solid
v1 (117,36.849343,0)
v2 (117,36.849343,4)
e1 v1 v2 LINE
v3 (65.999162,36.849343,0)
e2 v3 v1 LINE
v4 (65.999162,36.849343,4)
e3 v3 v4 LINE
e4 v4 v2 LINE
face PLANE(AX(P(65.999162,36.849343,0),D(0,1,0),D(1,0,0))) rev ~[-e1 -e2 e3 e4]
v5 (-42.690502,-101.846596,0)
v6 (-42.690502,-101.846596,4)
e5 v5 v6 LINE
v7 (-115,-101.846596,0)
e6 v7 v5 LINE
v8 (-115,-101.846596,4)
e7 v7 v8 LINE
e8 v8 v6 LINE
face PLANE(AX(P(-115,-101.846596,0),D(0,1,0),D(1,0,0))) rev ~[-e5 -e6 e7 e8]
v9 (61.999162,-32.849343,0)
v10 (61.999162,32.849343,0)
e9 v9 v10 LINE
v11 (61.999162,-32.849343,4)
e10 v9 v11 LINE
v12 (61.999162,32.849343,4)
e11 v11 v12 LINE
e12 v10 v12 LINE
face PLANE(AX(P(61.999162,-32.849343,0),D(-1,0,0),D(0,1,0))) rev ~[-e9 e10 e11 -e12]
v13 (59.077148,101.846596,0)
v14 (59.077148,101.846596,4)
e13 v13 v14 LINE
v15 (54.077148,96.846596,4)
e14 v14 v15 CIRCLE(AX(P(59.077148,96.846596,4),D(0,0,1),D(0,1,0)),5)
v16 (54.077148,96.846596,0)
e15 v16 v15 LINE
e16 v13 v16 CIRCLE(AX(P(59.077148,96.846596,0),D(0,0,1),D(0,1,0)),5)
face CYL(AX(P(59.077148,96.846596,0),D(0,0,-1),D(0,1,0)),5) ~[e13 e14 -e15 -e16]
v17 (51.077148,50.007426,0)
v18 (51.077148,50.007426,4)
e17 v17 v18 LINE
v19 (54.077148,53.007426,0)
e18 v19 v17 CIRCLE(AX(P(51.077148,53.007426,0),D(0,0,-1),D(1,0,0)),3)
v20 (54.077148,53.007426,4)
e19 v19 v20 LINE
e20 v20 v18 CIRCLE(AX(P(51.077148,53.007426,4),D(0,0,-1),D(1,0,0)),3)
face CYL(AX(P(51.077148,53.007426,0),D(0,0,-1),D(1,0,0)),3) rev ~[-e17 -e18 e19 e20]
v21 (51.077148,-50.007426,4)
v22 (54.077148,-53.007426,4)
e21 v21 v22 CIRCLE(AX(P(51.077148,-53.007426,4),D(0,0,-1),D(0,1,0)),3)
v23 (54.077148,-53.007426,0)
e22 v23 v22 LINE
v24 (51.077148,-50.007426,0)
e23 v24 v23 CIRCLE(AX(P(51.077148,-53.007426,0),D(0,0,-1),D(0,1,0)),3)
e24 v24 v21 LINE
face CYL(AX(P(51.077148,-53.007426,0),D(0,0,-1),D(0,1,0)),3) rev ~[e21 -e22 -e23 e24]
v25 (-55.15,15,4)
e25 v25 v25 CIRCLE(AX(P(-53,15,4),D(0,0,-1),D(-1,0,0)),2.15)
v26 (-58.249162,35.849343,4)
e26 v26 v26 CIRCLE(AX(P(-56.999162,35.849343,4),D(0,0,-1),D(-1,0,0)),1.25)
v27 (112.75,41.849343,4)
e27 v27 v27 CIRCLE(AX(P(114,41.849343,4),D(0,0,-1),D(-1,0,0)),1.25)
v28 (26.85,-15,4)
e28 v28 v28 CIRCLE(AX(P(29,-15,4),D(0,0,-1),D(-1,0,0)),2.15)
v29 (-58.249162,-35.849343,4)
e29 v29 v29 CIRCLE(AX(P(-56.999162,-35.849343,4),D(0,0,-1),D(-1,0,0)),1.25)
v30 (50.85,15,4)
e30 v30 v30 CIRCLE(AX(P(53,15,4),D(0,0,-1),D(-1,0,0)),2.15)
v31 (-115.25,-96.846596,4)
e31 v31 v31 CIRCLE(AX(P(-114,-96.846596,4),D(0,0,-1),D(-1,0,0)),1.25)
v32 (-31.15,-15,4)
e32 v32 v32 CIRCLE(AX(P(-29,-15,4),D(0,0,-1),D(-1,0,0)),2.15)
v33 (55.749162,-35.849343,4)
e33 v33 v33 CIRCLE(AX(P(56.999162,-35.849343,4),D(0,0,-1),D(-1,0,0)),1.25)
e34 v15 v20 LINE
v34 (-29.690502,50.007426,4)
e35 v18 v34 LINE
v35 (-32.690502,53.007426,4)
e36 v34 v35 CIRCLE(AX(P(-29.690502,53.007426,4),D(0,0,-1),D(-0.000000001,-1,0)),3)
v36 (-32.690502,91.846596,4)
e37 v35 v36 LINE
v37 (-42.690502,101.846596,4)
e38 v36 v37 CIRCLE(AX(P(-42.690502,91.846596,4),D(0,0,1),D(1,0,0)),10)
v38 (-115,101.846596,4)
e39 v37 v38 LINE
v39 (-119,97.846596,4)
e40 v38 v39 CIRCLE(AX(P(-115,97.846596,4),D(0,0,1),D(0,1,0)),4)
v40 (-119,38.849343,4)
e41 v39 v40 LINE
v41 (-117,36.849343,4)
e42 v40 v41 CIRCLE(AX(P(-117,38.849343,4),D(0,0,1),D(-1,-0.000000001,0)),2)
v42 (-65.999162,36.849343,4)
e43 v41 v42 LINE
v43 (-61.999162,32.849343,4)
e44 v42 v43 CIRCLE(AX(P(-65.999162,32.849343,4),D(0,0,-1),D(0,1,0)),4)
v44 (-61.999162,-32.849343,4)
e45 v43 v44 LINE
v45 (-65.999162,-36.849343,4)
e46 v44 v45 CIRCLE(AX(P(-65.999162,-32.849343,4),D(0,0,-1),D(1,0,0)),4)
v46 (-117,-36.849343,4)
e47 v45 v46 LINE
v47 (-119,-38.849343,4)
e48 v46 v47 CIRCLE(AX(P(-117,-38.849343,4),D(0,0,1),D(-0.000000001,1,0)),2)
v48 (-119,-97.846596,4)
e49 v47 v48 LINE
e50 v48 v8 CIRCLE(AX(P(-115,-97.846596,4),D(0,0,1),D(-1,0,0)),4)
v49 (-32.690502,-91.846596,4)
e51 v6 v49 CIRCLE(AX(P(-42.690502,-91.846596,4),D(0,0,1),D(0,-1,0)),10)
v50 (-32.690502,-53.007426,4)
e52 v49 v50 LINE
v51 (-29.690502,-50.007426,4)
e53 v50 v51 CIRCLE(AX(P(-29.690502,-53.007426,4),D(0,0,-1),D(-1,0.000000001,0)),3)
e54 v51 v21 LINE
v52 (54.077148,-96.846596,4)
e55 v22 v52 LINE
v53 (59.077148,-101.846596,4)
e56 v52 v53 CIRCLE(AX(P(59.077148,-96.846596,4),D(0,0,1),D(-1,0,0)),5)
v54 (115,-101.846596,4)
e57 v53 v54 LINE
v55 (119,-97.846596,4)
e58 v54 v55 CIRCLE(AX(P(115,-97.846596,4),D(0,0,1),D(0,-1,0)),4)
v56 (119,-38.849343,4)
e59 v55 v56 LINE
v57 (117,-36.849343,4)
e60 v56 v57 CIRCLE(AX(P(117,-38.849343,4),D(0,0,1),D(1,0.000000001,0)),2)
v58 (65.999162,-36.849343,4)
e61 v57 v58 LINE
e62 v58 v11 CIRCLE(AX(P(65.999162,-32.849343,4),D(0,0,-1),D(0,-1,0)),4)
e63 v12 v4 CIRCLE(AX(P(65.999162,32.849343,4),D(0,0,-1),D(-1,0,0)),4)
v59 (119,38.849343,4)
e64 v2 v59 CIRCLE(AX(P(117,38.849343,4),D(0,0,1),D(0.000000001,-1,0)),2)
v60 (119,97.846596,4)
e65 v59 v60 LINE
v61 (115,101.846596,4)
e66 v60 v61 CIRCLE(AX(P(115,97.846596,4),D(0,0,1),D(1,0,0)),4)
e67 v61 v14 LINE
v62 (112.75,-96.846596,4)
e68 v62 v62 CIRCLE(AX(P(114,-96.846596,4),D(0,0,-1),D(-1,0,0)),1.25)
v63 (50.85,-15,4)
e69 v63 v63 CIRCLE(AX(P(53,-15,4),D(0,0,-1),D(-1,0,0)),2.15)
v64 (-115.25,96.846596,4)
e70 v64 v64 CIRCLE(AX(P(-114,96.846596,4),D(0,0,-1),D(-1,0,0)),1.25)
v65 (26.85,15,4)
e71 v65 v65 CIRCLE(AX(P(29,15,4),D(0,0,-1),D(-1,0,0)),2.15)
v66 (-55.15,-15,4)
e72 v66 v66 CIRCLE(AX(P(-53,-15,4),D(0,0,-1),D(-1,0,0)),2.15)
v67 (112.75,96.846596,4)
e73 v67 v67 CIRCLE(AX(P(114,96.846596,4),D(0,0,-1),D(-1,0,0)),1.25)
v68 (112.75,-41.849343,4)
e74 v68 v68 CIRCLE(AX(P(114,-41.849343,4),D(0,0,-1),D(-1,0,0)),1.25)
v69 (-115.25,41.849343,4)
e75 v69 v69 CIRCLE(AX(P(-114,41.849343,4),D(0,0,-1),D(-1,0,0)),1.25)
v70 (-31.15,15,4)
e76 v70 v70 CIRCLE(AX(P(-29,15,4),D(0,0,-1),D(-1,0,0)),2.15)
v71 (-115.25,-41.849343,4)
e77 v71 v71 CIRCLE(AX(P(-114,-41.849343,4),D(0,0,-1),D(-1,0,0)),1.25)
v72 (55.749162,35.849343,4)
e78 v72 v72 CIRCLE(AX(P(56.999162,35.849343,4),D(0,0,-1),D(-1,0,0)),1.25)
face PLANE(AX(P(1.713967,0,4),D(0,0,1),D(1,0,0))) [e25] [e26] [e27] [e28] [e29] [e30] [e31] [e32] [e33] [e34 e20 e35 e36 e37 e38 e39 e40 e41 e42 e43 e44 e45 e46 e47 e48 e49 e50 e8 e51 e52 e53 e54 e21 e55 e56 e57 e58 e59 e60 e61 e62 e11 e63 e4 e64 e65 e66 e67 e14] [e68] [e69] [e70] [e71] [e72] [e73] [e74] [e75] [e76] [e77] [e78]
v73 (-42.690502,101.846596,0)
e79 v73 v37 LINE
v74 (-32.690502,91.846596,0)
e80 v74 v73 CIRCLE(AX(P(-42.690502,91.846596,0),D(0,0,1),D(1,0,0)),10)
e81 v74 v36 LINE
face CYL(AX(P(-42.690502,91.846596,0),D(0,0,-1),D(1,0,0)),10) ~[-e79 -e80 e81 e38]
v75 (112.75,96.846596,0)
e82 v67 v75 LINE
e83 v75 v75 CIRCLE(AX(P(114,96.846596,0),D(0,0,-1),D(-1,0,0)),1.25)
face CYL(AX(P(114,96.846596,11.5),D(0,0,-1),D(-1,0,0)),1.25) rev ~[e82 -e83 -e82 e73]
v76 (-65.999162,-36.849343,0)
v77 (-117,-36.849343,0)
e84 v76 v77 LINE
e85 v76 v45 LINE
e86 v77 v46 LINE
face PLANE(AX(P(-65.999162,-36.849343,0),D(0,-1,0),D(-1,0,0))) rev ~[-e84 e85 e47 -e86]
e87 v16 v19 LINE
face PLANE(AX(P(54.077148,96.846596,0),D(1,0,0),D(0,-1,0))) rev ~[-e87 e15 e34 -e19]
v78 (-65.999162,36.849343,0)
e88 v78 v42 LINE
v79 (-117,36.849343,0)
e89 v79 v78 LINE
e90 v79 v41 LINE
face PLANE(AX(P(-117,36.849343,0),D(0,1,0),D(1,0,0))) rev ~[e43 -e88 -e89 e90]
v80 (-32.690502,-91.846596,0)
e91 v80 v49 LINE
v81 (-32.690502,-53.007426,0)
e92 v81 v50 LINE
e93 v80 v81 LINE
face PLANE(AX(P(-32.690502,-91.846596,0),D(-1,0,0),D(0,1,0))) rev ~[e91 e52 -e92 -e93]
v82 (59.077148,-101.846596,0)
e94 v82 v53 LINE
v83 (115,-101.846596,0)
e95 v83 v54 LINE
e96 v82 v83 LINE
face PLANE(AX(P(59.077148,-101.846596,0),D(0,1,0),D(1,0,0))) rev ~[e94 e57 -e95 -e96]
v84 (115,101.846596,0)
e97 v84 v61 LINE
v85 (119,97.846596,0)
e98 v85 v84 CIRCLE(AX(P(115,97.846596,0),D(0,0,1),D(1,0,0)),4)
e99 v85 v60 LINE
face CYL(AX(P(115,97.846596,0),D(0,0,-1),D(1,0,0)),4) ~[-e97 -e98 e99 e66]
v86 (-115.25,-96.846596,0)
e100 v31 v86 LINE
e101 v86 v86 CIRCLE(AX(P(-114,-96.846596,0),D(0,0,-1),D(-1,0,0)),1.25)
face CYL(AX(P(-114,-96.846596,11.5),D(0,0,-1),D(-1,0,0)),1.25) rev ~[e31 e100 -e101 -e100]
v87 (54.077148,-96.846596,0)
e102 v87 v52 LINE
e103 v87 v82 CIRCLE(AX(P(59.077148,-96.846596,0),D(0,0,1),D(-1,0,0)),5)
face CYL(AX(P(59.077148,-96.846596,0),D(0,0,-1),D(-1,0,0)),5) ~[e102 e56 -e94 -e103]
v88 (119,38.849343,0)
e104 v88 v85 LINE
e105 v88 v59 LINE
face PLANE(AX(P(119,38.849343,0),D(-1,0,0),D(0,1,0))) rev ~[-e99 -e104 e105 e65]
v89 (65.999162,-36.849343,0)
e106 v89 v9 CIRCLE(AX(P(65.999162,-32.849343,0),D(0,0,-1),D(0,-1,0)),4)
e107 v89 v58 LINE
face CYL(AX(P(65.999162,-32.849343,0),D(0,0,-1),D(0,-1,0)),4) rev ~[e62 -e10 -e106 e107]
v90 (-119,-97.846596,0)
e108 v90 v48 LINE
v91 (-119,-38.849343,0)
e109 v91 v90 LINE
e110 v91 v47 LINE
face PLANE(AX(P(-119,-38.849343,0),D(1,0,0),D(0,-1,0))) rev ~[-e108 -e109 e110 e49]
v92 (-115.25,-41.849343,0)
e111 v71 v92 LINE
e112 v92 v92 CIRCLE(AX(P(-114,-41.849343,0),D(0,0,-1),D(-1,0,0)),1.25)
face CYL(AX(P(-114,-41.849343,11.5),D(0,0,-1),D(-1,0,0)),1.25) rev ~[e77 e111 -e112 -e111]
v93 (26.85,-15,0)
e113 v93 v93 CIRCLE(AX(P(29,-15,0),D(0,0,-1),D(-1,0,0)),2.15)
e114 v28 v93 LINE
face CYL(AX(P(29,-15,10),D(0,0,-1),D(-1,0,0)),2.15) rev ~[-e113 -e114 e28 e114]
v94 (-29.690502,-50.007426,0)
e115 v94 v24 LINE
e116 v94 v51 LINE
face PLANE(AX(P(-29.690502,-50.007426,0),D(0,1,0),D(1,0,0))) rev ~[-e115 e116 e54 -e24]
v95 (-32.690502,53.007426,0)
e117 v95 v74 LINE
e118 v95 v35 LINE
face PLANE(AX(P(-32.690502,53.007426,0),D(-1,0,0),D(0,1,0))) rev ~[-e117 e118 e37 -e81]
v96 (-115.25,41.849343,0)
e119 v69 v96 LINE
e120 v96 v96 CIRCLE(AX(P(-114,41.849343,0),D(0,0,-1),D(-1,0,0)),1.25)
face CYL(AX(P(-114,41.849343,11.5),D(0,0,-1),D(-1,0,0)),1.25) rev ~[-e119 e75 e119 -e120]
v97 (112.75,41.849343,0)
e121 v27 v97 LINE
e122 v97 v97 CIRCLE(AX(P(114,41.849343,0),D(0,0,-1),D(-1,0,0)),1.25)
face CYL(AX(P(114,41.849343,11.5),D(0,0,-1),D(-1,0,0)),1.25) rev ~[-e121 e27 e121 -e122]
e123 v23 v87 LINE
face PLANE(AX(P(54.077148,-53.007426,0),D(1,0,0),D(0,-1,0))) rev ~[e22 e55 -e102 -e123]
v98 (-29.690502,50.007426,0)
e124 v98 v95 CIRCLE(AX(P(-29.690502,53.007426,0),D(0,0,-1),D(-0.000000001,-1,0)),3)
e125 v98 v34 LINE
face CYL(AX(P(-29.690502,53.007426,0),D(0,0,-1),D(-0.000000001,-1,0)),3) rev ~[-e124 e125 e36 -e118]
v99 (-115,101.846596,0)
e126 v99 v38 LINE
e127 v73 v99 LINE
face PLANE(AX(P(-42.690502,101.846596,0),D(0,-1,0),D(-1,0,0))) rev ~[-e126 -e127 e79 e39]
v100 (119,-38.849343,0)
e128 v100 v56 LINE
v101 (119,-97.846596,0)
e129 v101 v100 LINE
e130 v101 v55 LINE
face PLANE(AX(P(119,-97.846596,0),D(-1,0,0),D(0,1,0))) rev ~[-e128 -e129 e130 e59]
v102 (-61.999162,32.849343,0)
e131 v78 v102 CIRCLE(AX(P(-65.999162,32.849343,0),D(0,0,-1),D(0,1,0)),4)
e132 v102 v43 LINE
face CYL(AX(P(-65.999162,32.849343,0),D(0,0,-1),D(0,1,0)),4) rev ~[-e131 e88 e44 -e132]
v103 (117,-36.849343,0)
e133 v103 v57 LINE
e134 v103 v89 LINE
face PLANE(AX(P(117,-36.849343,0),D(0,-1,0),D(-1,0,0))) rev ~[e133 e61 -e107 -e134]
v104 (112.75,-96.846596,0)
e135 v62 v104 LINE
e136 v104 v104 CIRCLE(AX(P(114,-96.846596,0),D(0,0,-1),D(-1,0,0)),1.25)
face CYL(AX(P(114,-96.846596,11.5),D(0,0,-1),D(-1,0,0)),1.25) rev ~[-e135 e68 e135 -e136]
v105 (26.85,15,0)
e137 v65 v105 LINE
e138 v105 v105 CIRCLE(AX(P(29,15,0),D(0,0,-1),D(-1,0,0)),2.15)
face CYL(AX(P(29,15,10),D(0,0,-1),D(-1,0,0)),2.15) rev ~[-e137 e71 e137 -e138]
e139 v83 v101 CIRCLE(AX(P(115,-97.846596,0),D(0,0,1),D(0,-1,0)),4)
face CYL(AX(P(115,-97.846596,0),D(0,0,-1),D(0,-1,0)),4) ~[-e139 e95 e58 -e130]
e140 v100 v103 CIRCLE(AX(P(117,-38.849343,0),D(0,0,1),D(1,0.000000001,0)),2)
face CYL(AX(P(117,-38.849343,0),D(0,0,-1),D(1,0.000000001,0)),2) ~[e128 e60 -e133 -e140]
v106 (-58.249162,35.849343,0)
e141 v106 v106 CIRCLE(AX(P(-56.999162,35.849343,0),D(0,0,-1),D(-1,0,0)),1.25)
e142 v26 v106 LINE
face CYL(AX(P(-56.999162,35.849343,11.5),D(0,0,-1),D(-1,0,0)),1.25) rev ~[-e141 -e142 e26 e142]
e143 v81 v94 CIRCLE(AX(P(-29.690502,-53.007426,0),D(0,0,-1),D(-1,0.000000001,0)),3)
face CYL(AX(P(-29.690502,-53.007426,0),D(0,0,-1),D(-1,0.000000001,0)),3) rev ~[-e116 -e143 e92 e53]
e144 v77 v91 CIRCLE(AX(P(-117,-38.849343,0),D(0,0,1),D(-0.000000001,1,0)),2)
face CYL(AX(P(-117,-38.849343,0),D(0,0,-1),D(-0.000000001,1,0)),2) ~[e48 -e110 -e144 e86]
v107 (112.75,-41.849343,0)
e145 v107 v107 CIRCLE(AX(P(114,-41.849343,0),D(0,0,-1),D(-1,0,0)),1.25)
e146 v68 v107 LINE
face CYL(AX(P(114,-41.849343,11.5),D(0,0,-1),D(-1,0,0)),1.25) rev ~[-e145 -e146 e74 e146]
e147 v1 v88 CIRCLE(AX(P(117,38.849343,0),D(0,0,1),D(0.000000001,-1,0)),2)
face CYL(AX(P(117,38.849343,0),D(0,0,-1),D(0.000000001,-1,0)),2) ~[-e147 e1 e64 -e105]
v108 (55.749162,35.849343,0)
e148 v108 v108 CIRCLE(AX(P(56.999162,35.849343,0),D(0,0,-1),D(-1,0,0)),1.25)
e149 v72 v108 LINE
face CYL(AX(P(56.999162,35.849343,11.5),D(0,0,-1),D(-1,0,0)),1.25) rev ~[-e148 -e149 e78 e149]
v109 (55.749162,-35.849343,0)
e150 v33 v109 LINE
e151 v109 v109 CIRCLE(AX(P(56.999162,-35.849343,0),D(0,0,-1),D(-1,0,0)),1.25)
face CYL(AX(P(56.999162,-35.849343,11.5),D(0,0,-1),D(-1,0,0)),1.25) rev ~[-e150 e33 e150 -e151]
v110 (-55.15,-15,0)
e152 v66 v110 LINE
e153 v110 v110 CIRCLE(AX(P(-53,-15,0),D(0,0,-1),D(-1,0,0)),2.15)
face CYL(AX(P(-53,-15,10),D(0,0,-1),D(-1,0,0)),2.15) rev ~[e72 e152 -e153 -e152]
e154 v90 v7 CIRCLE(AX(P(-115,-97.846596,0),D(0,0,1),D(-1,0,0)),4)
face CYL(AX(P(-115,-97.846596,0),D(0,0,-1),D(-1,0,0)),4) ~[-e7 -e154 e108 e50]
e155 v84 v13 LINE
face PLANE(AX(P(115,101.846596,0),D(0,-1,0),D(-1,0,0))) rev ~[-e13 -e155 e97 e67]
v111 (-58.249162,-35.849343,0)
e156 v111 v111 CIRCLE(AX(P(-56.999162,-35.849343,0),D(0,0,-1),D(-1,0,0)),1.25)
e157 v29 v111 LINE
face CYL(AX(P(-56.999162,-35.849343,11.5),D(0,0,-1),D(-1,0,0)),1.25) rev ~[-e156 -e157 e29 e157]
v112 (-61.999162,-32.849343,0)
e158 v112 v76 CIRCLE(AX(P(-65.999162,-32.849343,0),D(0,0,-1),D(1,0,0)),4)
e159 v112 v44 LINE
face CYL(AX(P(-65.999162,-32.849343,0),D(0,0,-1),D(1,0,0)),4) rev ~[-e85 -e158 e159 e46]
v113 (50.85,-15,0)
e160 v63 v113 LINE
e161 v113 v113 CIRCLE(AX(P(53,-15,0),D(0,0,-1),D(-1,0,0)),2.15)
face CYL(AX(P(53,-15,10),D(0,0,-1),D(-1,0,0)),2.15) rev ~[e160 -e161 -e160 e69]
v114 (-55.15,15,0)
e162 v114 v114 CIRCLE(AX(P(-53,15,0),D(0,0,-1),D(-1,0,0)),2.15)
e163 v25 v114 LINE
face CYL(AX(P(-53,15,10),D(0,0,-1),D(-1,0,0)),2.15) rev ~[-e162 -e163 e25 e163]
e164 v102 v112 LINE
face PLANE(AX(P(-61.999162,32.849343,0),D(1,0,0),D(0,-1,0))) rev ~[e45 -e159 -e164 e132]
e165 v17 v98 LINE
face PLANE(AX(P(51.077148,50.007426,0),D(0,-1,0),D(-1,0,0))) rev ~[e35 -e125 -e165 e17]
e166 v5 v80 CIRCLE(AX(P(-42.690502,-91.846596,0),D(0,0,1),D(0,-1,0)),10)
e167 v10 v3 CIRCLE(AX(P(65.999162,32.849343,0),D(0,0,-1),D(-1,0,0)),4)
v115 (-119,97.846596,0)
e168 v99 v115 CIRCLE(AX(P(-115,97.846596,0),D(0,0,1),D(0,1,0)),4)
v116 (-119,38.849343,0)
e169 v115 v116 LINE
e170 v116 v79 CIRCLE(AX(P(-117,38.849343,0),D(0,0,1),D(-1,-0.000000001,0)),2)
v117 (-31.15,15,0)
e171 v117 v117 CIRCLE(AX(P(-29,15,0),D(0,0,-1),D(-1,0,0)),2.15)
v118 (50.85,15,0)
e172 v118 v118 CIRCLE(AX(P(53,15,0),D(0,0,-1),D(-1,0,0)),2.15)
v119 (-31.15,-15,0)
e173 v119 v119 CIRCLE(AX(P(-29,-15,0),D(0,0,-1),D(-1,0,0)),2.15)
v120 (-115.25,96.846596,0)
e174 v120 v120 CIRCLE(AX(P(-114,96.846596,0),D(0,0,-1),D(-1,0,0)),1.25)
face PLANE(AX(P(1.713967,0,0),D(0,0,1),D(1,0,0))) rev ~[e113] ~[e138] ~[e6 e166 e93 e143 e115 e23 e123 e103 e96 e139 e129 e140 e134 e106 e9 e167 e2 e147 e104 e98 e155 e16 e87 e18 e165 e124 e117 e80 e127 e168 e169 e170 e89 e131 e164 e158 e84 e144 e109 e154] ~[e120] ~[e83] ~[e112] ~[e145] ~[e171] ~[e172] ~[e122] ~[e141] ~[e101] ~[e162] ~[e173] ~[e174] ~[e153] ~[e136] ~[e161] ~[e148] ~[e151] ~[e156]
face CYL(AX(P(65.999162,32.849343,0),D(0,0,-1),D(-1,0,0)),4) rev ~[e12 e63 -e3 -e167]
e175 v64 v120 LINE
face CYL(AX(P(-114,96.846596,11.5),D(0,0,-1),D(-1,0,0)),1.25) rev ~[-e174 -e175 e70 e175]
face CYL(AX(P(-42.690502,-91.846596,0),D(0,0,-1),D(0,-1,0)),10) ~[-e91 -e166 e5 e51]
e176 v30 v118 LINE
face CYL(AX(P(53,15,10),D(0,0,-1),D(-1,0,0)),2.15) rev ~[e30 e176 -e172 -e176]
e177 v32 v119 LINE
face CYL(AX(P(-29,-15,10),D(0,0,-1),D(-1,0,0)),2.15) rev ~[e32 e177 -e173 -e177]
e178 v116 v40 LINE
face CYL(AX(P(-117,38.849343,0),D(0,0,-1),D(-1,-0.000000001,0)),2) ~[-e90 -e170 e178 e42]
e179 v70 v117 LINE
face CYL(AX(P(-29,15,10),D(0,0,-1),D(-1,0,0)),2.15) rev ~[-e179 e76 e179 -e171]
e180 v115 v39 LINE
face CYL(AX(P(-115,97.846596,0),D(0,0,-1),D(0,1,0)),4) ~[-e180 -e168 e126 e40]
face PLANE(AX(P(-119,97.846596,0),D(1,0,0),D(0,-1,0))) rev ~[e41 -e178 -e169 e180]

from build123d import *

# Parameters (mm, degrees)
SKETCH1_R                = 1.5
SKETCH1_R_2              = 1
BOSS_EXTRUDE1_DEPTH      = 4
M4_CLEARANCE_HOLE1_D     = 4.3
M4_CLEARANCE_HOLE1_DEPTH = 6
M4_CLEARANCE_HOLE1_TIP   = 1.291850331
M3_TAPPED_HOLE1_D        = 2.5
M3_TAPPED_HOLE1_DEPTH    = 7.5
M3_TAPPED_HOLE1_TIP      = 0.751075774


with BuildPart() as part:
    # Sketch1 → Boss-Extrude1 (new body)
    with BuildSketch(Plane.XY):
        with BuildLine():
            Line((-119, 97.846596312), (-119, 38.84934343))
            ThreePointArc((-119, 38.84934343), (-118.414213562, 37.435129868), (-117, 36.84934343))
            Line((-117, 36.84934343), (-65.999162166, 36.84934343))
            ThreePointArc((-65.999162166, 36.84934343), (-63.170735042, 35.677770555), (-61.999162166, 32.84934343))
            Line((-61.999162166, 32.84934343), (-61.999162166, -32.84934343))
            ThreePointArc((-61.999162166, -32.84934343), (-63.170735042, -35.677770555), (-65.999162166, -36.84934343))
            Line((-65.999162166, -36.84934343), (-117, -36.84934343))
            ThreePointArc((-117, -36.84934343), (-118.414213562, -37.435129868), (-119, -38.84934343))
            Line((-119, -38.84934343), (-119, -97.846596312))
            ThreePointArc((-119, -97.846596312), (-117.828427125, -100.675023437), (-115, -101.846596312))
            Line((-115, -101.846596312), (-42.690502092, -101.846596312))
            ThreePointArc((-42.690502092, -101.846596312), (-35.61943428, -98.917664124), (-32.690502092, -91.846596312))
            Line((-32.690502092, -91.846596312), (-32.690502092, -53.007425707))
            ThreePointArc((-32.690502092, -53.007425707), (-31.811822435, -50.886105364), (-29.690502092, -50.007425707))
            Line((-29.690502092, -50.007425707), (51.077147655, -50.007425707))
            ThreePointArc((51.077147655, -50.007425707), (53.198467999, -50.886105364), (54.077147655, -53.007425707))
            Line((54.077147655, -53.007425707), (54.077147655, -96.846596312))
            ThreePointArc((54.077147655, -96.846596312), (55.541613749, -100.382130218), (59.077147655, -101.846596312))
            Line((59.077147655, -101.846596312), (115, -101.846596312))
            ThreePointArc((115, -101.846596312), (117.828427125, -100.675023437), (119, -97.846596312))
            Line((119, -97.846596312), (119, -38.84934343))
            ThreePointArc((119, -38.84934343), (118.414213562, -37.435129868), (117, -36.84934343))
            Line((117, -36.84934343), (65.999162166, -36.84934343))
            ThreePointArc((65.999162166, -36.84934343), (63.170735042, -35.677770555), (61.999162166, -32.84934343))
            Line((61.999162166, -32.84934343), (61.999162166, 32.84934343))
            ThreePointArc((61.999162166, 32.84934343), (63.170735042, 35.677770555), (65.999162166, 36.84934343))
            Line((65.999162166, 36.84934343), (117, 36.84934343))
            ThreePointArc((117, 36.84934343), (118.414213562, 37.435129868), (119, 38.84934343))
            Line((119, 38.84934343), (119, 97.846596312))
            ThreePointArc((119, 97.846596312), (117.828427125, 100.675023437), (115, 101.846596312))
            Line((115, 101.846596312), (59.077147655, 101.846596312))
            ThreePointArc((59.077147655, 101.846596312), (55.541613749, 100.382130218), (54.077147655, 96.846596312))
            Line((54.077147655, 96.846596312), (54.077147655, 53.007425707))
            ThreePointArc((54.077147655, 53.007425707), (53.198467999, 50.886105364), (51.077147655, 50.007425707))
            Line((51.077147655, 50.007425707), (29.690502092, 50.007425707))
            Line((29.690502092, 50.007425707), (-29.690502092, 50.007425707))
            ThreePointArc((-29.690502092, 50.007425707), (-31.811822435, 50.886105364), (-32.690502092, 53.007425707))
            Line((-32.690502092, 53.007425707), (-32.690502092, 91.846596312))
            ThreePointArc((-32.690502092, 91.846596312), (-35.61943428, 98.917664124), (-42.690502092, 101.846596312))
            Line((-42.690502092, 101.846596312), (-115, 101.846596312))
            ThreePointArc((-115, 101.846596312), (-117.828427125, 100.675023437), (-119, 97.846596312))
        make_face()
        with Locations(Location((29, 15, 0), (0, 0, 180))):
            Circle(SKETCH1_R, mode=Mode.SUBTRACT)
        with Locations(Location((53, 15, 0), (0, 0, 180))):
            Circle(SKETCH1_R, mode=Mode.SUBTRACT)
        with Locations(Location((53, -15, 0), (0, 0, 180))):
            Circle(SKETCH1_R, mode=Mode.SUBTRACT)
        with Locations(Location((29, -15, 0), (0, 0, 180))):
            Circle(SKETCH1_R, mode=Mode.SUBTRACT)
        with Locations((-114, 41.84934343)):
            Circle(SKETCH1_R_2, mode=Mode.SUBTRACT)
        with Locations((-56.999162166, 35.84934343)):
            Circle(SKETCH1_R_2, mode=Mode.SUBTRACT)
        with Locations((-114, 96.846596312)):
            Circle(SKETCH1_R_2, mode=Mode.SUBTRACT)
        with Locations(Location((114, 96.846596312, 0), (0, 0, 180))):
            Circle(SKETCH1_R_2, mode=Mode.SUBTRACT)
        with Locations(Location((56.999162166, 35.84934343, 0), (0, 0, 180))):
            Circle(SKETCH1_R_2, mode=Mode.SUBTRACT)
        with Locations((-29, -15)):
            Circle(SKETCH1_R, mode=Mode.SUBTRACT)
        with Locations((-53, -15)):
            Circle(SKETCH1_R, mode=Mode.SUBTRACT)
        with Locations((-53, 15)):
            Circle(SKETCH1_R, mode=Mode.SUBTRACT)
        with Locations((-29, 15)):
            Circle(SKETCH1_R, mode=Mode.SUBTRACT)
        with Locations(Location((114, 41.84934343, 0), (0, 0, 180))):
            Circle(SKETCH1_R_2, mode=Mode.SUBTRACT)
        with Locations((114, -96.846596312)):
            Circle(SKETCH1_R_2, mode=Mode.SUBTRACT)
        with Locations((114, -41.84934343)):
            Circle(SKETCH1_R_2, mode=Mode.SUBTRACT)
        with Locations((56.999162166, -35.84934343)):
            Circle(SKETCH1_R_2, mode=Mode.SUBTRACT)
        with Locations(Location((-56.999162166, -35.84934343, 0), (0, 0, 180))):
            Circle(SKETCH1_R_2, mode=Mode.SUBTRACT)
        with Locations(Location((-114, -96.846596312, 0), (0, 0, 180))):
            Circle(SKETCH1_R_2, mode=Mode.SUBTRACT)
        with Locations(Location((-114, -41.84934343, 0), (0, 0, 180))):
            Circle(SKETCH1_R_2, mode=Mode.SUBTRACT)
    extrude(amount=BOSS_EXTRUDE1_DEPTH)

    # M4 Clearance Hole1
    with Locations(Plane(origin=(-53, 15, 4), x_dir=(1, 0, 0), z_dir=(0, 0, 1))):
        with Locations((0, 0), (24, 0), (0, -30), (24, -30), (82, -30), (106, -30), (106, 0), (82, 0)):
            Hole(M4_CLEARANCE_HOLE1_D / 2, depth=M4_CLEARANCE_HOLE1_DEPTH)
            with Locations((0, 0, -(M4_CLEARANCE_HOLE1_DEPTH + M4_CLEARANCE_HOLE1_TIP / 2))):  # 118° drill point
                Cone(0, M4_CLEARANCE_HOLE1_D / 2, M4_CLEARANCE_HOLE1_TIP, mode=Mode.SUBTRACT)

    # M3 Tapped Hole1
    with Locations(Plane(origin=(-114, -96.846596312, 4), x_dir=(1, 0, 0), z_dir=(0, 0, 1))):
        with Locations((0, 0), (228, 0), (228, 54.997252882), (170.999162166, 60.997252882), (57.000837834, 60.997252882), (0, 54.997252882), (0, 138.695939742), (57.000837834, 132.695939742), (0, 193.693192624), (170.999162166, 132.695939742), (228, 138.695939742), (228, 193.693192624)):
            Hole(M3_TAPPED_HOLE1_D / 2, depth=M3_TAPPED_HOLE1_DEPTH)
            with Locations((0, 0, -(M3_TAPPED_HOLE1_DEPTH + M3_TAPPED_HOLE1_TIP / 2))):  # 118° drill point
                Cone(0, M3_TAPPED_HOLE1_D / 2, M3_TAPPED_HOLE1_TIP, mode=Mode.SUBTRACT)


solid = part.part
